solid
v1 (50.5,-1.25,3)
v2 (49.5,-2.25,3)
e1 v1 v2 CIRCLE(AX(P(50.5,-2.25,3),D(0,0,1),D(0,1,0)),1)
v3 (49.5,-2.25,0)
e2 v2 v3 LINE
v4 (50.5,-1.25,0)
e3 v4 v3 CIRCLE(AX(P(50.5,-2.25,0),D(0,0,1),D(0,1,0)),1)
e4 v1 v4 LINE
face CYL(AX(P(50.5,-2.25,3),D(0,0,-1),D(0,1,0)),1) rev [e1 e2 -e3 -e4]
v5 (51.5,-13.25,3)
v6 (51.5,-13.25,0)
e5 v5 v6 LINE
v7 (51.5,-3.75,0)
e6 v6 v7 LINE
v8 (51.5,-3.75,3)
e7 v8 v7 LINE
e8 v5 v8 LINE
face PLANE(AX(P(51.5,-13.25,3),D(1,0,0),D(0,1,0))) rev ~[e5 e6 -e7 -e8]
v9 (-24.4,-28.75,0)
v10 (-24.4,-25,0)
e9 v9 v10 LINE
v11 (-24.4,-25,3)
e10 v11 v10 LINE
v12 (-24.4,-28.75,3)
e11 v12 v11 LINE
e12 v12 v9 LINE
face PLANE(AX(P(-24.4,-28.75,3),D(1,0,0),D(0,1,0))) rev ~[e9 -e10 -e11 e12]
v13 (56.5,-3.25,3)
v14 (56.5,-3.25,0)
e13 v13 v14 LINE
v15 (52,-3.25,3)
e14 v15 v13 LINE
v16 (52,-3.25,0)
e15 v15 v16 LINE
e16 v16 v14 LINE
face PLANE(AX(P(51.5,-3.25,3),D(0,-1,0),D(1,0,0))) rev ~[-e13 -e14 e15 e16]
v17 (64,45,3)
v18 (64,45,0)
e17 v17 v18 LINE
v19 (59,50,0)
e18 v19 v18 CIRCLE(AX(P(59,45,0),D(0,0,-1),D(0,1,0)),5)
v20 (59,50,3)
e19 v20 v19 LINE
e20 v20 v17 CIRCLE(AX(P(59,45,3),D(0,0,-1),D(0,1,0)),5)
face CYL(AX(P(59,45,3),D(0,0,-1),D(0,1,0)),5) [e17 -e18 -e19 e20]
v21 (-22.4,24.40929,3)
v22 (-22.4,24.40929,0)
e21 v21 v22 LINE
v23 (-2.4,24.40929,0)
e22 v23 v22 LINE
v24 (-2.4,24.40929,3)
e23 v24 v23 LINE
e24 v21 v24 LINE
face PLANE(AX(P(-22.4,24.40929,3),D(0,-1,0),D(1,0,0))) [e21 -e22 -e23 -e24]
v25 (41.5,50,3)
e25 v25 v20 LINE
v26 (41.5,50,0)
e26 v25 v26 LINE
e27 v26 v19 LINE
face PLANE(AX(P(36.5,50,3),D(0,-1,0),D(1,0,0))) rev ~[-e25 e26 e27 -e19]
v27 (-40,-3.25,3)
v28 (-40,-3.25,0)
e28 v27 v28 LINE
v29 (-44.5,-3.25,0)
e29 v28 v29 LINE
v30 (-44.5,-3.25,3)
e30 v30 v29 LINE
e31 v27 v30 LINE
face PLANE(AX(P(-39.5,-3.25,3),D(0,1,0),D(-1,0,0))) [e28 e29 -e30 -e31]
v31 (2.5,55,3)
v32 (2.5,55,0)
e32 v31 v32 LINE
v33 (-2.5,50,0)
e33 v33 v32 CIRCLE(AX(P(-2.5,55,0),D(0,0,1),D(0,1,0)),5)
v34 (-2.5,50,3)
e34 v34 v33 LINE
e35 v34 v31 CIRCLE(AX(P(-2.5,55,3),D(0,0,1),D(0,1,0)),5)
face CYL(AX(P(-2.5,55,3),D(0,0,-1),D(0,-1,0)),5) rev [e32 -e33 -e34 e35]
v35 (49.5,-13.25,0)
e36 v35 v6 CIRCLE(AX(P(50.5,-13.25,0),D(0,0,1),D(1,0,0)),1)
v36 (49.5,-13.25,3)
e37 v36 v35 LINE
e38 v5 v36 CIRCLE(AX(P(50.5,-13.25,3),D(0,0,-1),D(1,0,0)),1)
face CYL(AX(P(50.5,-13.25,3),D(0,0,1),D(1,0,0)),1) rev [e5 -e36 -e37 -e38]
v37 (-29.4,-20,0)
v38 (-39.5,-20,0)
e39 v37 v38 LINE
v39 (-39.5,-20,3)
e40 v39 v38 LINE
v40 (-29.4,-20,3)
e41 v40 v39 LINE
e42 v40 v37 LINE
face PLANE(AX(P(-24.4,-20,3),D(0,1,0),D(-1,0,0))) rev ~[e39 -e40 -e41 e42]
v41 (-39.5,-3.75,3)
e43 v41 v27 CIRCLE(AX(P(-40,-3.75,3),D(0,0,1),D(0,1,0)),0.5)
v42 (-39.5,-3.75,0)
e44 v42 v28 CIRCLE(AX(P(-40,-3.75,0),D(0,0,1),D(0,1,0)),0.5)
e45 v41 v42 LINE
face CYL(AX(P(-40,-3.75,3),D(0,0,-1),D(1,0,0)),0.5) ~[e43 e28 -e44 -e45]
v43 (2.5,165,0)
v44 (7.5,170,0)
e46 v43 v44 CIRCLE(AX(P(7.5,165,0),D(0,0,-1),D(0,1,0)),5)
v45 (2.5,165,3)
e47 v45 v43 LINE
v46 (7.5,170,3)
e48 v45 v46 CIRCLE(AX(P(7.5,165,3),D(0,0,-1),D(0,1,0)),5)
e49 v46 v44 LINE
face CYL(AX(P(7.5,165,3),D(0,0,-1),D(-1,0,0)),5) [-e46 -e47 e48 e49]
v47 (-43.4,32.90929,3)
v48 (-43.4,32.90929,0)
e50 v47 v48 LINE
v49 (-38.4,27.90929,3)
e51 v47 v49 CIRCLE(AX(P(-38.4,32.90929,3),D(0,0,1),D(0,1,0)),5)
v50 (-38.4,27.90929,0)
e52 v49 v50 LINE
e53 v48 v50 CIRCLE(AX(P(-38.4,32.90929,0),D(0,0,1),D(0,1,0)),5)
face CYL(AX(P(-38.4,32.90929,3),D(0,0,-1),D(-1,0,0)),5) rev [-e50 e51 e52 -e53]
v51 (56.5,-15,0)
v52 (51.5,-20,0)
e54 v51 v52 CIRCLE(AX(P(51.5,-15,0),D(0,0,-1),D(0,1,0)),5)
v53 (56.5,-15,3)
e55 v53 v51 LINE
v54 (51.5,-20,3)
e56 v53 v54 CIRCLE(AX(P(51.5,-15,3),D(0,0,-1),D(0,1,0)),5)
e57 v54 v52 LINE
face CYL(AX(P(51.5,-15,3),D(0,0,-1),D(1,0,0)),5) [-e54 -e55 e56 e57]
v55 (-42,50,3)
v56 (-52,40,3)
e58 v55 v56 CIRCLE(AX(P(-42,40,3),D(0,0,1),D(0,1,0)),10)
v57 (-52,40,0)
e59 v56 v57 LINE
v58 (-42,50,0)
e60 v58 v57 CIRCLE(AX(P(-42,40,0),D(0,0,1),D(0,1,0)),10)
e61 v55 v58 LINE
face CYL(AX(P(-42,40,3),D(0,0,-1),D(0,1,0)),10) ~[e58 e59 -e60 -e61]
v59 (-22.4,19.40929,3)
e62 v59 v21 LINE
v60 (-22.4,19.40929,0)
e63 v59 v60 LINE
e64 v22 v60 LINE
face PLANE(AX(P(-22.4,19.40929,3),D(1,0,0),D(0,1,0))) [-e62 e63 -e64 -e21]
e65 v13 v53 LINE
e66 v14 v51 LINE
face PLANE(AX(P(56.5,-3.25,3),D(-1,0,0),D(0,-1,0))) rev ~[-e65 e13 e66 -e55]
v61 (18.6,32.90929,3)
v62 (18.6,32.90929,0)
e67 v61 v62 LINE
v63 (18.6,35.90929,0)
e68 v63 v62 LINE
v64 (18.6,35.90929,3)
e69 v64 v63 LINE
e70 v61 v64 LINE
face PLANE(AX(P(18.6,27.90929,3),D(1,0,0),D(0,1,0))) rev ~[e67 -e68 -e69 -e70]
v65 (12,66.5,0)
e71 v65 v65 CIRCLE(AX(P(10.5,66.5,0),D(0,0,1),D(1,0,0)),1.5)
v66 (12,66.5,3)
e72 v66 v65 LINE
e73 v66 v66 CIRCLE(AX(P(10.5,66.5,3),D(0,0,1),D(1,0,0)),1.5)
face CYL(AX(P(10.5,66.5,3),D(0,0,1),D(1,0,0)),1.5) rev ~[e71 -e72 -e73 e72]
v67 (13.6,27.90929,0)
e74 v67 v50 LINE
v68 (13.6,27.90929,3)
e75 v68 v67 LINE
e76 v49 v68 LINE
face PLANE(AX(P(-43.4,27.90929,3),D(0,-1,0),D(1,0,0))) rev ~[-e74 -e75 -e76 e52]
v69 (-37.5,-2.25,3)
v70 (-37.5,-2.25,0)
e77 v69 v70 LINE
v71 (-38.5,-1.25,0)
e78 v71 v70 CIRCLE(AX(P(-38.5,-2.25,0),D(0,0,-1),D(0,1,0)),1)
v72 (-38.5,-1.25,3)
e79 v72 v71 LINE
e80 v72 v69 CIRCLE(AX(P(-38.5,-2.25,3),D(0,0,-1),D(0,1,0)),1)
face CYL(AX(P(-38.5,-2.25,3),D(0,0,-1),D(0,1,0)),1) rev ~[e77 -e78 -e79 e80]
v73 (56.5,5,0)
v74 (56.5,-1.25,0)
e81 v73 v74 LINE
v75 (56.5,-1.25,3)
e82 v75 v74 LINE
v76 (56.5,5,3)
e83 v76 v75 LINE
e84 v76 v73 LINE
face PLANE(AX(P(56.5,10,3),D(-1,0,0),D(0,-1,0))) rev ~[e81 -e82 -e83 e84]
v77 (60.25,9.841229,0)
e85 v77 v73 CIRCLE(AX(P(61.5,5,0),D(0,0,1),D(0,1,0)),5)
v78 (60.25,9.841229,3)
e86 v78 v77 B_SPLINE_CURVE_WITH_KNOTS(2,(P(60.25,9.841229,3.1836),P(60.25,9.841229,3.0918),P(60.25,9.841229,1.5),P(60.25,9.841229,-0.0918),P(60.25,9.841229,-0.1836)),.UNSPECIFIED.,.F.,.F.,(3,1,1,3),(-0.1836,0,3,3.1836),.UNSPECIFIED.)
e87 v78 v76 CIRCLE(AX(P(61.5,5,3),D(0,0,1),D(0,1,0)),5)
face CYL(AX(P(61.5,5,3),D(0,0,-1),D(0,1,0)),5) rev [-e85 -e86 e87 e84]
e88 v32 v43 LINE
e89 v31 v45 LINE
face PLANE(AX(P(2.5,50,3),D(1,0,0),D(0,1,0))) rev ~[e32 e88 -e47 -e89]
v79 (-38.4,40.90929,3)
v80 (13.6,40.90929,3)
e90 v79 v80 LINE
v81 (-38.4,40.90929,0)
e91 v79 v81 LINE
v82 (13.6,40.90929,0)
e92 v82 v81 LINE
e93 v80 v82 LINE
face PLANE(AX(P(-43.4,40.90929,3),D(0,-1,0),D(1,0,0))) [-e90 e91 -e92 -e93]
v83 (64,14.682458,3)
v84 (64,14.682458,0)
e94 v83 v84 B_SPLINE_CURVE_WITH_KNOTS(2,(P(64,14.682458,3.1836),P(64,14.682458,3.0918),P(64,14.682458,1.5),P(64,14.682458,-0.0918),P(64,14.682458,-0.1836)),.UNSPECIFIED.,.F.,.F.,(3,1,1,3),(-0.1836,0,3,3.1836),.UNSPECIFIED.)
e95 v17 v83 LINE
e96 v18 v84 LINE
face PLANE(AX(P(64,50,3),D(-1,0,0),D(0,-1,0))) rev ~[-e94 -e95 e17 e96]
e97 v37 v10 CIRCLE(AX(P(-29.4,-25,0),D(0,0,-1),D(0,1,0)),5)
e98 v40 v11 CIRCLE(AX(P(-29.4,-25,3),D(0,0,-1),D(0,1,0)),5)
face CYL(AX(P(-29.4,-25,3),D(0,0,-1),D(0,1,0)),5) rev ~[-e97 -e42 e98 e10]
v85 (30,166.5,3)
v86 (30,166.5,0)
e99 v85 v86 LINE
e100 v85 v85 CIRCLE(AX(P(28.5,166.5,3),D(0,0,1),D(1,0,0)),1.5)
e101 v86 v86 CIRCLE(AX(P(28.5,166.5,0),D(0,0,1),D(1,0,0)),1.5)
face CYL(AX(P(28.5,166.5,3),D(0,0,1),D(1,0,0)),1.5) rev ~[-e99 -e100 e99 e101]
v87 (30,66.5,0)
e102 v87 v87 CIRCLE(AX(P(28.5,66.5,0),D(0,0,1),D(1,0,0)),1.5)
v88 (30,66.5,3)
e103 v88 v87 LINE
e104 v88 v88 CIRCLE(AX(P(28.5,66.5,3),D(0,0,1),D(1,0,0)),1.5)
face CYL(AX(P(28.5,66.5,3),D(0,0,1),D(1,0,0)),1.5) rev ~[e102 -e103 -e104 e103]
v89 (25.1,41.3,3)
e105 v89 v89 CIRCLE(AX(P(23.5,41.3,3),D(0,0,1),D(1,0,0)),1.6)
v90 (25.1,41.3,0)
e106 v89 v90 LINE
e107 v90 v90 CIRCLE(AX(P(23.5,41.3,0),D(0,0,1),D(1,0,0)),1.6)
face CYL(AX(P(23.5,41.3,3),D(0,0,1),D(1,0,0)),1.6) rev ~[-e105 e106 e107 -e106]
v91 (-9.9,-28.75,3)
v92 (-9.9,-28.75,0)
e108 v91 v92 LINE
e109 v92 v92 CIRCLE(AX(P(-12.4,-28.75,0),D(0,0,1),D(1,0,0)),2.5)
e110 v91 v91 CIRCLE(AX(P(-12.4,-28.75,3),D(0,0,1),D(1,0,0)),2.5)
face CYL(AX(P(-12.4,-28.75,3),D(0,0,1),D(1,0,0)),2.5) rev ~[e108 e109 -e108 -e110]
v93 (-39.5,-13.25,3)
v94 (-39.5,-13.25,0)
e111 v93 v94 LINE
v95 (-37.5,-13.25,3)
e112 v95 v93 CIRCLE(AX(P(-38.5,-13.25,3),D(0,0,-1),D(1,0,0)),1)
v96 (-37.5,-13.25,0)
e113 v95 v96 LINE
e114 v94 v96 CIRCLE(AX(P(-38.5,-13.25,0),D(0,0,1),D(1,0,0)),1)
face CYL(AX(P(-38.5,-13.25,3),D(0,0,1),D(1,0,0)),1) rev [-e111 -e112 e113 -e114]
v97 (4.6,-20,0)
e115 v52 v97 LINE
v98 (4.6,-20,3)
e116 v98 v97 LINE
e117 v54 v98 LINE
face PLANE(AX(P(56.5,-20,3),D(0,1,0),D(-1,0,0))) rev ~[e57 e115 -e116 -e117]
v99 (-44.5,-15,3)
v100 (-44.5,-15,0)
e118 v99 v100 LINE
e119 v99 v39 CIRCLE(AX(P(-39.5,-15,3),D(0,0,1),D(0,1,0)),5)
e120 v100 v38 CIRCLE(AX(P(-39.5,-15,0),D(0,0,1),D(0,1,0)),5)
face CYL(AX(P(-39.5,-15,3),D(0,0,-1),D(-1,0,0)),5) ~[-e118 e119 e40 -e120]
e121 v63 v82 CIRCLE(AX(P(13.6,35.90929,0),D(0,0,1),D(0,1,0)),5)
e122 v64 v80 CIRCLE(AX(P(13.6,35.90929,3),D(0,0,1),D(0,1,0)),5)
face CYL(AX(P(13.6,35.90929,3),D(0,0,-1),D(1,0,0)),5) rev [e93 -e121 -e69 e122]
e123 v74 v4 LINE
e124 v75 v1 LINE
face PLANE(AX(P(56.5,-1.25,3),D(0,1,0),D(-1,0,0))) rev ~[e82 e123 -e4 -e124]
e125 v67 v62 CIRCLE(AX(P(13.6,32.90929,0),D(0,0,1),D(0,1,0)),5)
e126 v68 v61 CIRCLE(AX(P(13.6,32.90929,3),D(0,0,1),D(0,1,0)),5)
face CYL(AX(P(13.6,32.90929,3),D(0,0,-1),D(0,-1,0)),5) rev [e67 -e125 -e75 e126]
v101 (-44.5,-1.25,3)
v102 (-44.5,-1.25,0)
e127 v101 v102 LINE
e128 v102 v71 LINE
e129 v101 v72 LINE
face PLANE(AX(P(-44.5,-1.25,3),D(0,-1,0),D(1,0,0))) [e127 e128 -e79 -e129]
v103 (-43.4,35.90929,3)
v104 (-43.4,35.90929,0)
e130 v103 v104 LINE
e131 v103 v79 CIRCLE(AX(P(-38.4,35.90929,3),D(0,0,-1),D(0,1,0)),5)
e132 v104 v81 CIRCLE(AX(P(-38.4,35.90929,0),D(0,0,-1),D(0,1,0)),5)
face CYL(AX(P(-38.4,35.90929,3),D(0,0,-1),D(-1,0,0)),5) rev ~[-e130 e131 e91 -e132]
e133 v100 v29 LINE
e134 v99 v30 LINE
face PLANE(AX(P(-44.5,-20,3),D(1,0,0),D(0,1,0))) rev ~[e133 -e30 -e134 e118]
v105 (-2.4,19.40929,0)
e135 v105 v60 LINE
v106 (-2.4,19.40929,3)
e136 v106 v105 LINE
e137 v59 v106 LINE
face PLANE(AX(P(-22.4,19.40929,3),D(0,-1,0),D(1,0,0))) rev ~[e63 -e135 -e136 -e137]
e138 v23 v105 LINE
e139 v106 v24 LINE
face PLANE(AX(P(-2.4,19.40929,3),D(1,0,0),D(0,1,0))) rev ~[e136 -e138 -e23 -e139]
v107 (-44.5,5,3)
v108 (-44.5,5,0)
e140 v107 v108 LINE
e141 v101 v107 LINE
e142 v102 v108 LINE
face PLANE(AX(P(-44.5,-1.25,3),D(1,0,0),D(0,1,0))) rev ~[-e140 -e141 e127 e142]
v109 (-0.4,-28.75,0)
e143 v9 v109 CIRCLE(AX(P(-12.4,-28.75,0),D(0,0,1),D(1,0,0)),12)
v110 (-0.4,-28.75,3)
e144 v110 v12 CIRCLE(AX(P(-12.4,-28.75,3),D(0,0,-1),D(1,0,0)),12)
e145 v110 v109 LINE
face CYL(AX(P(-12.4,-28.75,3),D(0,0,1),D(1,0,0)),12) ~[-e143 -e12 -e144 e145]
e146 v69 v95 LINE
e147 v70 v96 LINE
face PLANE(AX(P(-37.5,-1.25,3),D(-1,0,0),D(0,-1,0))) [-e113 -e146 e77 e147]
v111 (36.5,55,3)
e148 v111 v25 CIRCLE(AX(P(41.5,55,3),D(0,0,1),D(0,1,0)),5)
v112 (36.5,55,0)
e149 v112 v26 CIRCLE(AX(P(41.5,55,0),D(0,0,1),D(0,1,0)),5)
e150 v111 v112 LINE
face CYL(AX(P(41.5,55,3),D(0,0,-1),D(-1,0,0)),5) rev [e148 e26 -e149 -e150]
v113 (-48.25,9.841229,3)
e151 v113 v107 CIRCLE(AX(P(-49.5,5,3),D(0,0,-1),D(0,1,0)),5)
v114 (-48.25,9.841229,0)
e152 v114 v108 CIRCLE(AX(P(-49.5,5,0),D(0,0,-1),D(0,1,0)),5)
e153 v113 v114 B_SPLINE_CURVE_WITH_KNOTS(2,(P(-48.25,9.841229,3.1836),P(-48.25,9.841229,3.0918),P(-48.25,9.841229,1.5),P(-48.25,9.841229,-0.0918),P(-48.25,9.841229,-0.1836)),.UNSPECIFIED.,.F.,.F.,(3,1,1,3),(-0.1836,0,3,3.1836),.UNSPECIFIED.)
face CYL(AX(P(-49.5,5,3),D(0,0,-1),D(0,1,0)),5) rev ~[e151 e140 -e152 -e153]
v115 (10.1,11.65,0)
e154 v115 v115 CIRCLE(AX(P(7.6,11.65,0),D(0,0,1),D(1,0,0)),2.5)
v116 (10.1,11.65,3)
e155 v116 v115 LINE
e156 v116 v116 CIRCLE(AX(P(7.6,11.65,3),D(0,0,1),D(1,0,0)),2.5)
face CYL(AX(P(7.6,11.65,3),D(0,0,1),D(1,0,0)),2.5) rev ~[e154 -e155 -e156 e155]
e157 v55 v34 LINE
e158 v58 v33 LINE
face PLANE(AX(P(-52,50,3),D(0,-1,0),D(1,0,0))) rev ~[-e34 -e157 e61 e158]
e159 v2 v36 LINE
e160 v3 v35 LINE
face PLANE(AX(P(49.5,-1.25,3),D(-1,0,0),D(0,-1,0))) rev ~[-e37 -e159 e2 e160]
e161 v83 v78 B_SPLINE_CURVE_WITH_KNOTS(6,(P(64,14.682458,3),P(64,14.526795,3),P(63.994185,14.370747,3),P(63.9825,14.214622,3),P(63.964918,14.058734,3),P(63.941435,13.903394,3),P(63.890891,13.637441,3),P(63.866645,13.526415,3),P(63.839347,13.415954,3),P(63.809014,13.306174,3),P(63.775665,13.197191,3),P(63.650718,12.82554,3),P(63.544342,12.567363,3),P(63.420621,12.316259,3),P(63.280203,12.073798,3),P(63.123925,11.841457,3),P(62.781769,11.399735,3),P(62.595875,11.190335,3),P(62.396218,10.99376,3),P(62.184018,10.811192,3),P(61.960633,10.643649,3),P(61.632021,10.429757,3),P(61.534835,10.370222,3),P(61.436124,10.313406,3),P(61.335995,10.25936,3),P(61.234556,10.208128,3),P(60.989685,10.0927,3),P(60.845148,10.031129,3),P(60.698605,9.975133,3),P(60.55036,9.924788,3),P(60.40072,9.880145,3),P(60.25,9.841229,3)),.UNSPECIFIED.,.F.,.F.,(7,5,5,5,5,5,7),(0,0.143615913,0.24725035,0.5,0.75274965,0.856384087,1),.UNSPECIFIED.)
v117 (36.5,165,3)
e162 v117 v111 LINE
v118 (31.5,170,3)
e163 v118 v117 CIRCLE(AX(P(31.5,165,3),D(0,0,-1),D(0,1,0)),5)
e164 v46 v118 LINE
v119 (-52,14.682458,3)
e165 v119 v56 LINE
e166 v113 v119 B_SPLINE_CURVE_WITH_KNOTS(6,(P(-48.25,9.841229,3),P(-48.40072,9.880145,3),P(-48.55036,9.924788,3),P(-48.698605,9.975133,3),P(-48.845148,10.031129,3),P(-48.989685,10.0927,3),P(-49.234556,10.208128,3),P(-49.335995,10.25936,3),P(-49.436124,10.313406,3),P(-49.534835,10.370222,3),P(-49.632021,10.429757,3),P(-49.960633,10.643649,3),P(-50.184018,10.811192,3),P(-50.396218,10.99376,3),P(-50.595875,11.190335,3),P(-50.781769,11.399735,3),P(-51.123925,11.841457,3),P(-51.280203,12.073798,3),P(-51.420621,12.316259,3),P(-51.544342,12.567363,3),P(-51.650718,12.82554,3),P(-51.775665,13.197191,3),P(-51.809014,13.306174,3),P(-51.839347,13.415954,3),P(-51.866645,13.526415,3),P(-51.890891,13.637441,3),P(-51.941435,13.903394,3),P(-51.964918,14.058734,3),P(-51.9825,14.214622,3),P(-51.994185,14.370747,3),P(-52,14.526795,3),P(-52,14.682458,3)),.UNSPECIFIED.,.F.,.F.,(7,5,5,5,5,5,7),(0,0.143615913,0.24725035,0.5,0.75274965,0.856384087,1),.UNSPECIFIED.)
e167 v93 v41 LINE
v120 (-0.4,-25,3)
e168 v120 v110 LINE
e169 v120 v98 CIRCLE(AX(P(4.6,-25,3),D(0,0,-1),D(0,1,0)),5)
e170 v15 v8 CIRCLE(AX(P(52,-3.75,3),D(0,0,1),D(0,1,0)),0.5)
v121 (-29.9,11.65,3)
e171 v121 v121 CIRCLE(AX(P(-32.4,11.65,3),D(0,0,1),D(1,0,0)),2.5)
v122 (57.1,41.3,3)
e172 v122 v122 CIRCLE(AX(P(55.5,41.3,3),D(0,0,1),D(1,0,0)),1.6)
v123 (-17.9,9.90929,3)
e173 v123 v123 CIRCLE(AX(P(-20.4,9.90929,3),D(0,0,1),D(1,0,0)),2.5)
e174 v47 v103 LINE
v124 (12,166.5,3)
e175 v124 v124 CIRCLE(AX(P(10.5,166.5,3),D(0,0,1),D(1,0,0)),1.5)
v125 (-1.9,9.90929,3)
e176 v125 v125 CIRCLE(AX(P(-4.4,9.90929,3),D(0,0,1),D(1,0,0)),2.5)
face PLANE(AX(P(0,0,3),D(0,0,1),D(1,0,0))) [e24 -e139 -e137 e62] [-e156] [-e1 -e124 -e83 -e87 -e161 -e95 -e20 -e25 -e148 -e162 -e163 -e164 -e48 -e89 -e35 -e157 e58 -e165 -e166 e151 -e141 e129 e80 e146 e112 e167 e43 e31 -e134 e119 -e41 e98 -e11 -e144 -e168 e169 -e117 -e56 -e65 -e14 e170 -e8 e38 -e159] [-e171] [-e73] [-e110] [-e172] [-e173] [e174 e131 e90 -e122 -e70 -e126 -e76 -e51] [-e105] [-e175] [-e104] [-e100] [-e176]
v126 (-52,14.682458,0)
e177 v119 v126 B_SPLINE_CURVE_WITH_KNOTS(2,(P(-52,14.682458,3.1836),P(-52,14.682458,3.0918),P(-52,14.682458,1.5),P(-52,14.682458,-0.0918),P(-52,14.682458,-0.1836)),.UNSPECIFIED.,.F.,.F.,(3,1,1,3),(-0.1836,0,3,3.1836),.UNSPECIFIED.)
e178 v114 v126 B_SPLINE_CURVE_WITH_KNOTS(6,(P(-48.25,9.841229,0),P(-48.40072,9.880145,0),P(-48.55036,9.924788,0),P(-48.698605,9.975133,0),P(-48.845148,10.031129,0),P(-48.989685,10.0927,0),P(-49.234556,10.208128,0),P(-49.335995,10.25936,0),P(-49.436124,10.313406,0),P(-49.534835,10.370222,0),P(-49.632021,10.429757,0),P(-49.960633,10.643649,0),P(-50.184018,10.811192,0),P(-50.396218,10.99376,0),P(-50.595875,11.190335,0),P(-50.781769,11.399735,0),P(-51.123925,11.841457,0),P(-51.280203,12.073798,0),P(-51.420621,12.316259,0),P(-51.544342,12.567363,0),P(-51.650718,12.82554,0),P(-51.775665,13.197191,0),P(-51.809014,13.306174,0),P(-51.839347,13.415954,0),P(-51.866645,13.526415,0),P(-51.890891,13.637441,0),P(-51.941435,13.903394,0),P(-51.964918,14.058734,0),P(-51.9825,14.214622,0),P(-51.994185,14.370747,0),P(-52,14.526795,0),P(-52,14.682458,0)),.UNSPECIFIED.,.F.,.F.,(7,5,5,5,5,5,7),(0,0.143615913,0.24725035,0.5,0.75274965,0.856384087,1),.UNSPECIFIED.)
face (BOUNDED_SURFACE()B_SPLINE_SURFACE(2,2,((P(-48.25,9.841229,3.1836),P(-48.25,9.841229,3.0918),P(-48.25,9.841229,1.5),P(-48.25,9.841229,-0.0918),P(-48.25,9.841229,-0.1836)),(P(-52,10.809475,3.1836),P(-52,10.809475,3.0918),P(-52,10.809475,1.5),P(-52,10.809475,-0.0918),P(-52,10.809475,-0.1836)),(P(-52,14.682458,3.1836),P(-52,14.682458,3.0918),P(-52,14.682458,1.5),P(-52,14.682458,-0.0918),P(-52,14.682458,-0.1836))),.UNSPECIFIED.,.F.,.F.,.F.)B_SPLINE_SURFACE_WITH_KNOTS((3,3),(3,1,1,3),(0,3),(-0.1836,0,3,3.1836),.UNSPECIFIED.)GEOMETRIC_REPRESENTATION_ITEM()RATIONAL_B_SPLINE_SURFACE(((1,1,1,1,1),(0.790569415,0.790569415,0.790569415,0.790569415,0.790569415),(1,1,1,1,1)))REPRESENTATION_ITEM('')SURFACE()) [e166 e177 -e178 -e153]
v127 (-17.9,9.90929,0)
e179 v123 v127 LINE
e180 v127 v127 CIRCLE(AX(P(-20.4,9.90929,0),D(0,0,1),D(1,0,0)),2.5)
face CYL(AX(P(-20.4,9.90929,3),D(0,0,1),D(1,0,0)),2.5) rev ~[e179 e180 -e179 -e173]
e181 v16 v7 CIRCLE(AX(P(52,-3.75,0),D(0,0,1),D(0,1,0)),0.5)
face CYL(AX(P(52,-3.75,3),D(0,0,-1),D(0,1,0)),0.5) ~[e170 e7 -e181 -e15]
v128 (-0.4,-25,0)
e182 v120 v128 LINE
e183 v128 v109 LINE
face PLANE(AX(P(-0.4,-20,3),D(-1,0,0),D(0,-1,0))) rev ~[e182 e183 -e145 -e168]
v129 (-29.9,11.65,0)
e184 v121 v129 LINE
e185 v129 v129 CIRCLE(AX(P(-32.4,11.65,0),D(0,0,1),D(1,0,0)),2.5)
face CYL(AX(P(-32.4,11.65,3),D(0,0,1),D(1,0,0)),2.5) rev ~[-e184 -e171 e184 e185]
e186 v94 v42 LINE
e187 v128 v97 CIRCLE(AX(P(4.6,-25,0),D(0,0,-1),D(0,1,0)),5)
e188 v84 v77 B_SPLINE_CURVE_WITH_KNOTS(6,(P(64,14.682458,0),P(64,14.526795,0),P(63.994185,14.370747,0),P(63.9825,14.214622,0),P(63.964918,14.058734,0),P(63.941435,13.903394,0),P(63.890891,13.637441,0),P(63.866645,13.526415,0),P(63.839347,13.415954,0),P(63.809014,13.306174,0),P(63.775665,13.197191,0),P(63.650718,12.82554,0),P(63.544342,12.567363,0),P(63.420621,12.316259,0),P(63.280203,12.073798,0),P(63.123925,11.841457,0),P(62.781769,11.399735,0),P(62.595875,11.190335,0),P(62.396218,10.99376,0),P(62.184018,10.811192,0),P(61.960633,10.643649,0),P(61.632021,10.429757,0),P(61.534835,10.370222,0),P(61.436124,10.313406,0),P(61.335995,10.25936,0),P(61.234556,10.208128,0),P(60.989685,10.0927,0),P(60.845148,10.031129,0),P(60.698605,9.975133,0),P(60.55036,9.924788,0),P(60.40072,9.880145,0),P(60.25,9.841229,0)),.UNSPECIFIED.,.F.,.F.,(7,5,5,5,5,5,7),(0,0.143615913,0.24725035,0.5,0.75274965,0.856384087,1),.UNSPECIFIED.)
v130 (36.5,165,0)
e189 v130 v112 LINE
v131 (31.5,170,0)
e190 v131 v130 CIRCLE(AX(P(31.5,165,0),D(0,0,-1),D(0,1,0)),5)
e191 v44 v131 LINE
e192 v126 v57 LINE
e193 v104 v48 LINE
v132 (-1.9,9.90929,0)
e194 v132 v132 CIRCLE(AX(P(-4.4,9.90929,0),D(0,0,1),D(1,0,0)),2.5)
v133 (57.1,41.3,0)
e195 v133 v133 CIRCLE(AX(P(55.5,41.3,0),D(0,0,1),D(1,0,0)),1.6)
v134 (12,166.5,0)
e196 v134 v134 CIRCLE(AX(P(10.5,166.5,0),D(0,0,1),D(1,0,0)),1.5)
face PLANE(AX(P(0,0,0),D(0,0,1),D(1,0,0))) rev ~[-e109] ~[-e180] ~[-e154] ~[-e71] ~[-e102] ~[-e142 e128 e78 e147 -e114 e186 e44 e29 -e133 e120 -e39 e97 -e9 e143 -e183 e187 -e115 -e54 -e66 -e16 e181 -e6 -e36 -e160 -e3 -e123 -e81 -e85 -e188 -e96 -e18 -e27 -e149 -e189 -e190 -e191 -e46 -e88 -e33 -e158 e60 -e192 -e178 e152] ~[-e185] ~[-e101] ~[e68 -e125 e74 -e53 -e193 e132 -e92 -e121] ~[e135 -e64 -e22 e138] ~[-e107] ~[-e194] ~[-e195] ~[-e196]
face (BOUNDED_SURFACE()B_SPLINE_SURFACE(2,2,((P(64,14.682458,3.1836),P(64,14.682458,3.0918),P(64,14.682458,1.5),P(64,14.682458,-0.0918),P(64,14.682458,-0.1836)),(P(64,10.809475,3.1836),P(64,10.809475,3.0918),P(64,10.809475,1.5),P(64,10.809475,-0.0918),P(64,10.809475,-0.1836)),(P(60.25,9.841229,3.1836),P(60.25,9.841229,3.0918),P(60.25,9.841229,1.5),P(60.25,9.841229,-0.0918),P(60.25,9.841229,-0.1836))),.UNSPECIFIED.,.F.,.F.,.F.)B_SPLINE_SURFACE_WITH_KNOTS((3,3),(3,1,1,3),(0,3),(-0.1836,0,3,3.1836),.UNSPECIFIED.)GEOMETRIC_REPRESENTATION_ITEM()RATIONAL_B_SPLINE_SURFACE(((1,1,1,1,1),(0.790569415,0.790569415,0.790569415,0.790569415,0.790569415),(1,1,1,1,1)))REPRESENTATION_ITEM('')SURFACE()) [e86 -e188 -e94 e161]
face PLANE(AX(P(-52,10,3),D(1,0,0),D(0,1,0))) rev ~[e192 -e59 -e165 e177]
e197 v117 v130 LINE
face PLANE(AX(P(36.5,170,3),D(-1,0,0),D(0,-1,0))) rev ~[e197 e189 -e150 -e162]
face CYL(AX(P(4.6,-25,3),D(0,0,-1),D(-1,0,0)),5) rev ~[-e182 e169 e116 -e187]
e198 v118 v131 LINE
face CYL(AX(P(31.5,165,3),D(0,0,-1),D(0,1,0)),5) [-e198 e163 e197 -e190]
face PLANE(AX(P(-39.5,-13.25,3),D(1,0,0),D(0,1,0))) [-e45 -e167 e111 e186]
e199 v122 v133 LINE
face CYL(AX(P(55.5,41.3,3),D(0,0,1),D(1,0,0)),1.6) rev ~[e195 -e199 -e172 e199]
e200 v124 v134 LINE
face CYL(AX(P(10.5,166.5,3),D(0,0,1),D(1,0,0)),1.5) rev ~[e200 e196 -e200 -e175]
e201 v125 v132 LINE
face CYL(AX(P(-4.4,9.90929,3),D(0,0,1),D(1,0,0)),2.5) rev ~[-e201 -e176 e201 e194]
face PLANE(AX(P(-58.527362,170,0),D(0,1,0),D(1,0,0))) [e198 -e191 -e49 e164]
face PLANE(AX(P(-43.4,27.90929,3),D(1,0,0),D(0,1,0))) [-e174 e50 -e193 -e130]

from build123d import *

# Parameters (mm, degrees)
SKETCH1_W           = 200
SKETCH1_H           = 300
SKETCH1_W_2         = 158.527362204
SKETCH1_H_2         = 20
BOSS_EXTRUDE1_DEPTH = 3
SKETCH2_R           = 2.5
CUT_EXTRUDE1_DEPTH  = 5
CUT_EXTRUDE3_DEPTH  = 10
CUT_EXTRUDE4_REACH  = 183.673
SKETCH5_W           = 62
SKETCH5_H           = 13
FILLET2_R           = 5
FILLET3_R           = 10
FILLET4_R           = 5
CUT_EXTRUDE6_REACH  = 183.673
SKETCH7_R           = 1.6
CUT_EXTRUDE7_REACH  = 183.673
SKETCH8_R           = 2.5
SKETCH8_W           = 20
SKETCH8_H           = 5
FILLET6_R           = 1
FILLET7_R           = 0.5
SKETCH9_R           = 1.5
CUT_EXTRUDE8_DEPTH  = 10
FILLET8_R           = 5


with BuildPart() as part:
    # Sketch1 → Boss-Extrude1 (new body)
    with BuildSketch(Plane.XY):
        Rectangle(SKETCH1_W, SKETCH1_H)
        with Locations((20.736318898, 160)):
            Rectangle(SKETCH1_W_2, SKETCH1_H_2)
    extrude(amount=BOSS_EXTRUDE1_DEPTH)

    # Sketch2 → Cut-Extrude1 (cut)
    with BuildSketch(Plane.XY.offset(3)):
        with Locations((-12.4, -28.75)):
            Circle(SKETCH2_R)
        with Locations((7.6, 11.65)):
            Circle(SKETCH2_R)
        with Locations((-32.4, 11.65)):
            Circle(SKETCH2_R)
        Polygon((-44.5, -3.25), (-44.5, -1.25), (-37.5, -1.25), (-37.5, -13.25), (-39.5, -13.25), (-39.5, -3.25), align=None)
        Polygon((51.5, -3.25), (56.5, -3.25), (56.5, -1.25), (49.5, -1.25), (49.5, -13.25), (51.5, -13.25), align=None)
        with BuildLine():
            Line((-44.5, -3.25), (-44.5, -1.25))
            ThreePointArc((-44.5, -1.25), (-45.5, -2.25), (-44.5, -3.25))
        make_face()
        with BuildLine():
            ThreePointArc((-37.5, -13.25), (-38.5, -14.25), (-39.5, -13.25))
            Line((-39.5, -13.25), (-37.5, -13.25))
        make_face()
        with BuildLine():
            ThreePointArc((51.5, -13.25), (50.5, -14.25), (49.5, -13.25))
            Line((49.5, -13.25), (51.5, -13.25))
        make_face()
        with BuildLine():
            ThreePointArc((56.5, -1.25), (57.5, -2.25), (56.5, -3.25))
            Line((56.5, -3.25), (56.5, -1.25))
        make_face()
    extrude(amount=-CUT_EXTRUDE1_DEPTH, mode=Mode.SUBTRACT)

    # Sketch4 → Cut-Extrude3 (cut)
    with BuildSketch(Plane.XY.offset(3)):
        with BuildLine():
            ThreePointArc((-44.5, -3.25), (-45.5, -2.25), (-44.5, -1.25))
            Line((-44.5, -1.25), (-44.5, 10))
            Line((-44.5, 10), (-52, 10))
            Line((-52, 10), (-52, 50))
            Line((-52, 50), (2.5, 50))
            Line((2.5, 50), (2.5, 170))
            Line((2.5, 170), (-58.527362204, 170))
            Line((-58.527362204, 170), (-58.527362204, 150))
            Line((-58.527362204, 150), (-100, 150))
            Line((-100, 150), (-100, -150))
            Line((-100, -150), (100, -150))
            Line((100, -150), (100, 170))
            Line((100, 170), (36.5, 170))
            Line((36.5, 170), (36.5, 50))
            Line((36.5, 50), (64, 50))
            Line((64, 50), (64, 10))
            Line((64, 10), (56.5, 10))
            Line((56.5, 10), (56.5, -1.25))
            ThreePointArc((56.5, -1.25), (57.5, -2.25), (56.5, -3.25))
            Line((56.5, -3.25), (56.5, -20))
            Line((56.5, -20), (-0.4, -20))
            Line((-0.4, -20), (-0.4, -28.75))
            ThreePointArc((-0.4, -28.75), (-12.4, -40.75), (-24.4, -28.75))
            Line((-24.4, -28.75), (-24.4, -20))
            Line((-24.4, -20), (-44.5, -20))
            Line((-44.5, -20), (-44.5, -3.25))
        make_face()
    extrude(amount=-CUT_EXTRUDE3_DEPTH, mode=Mode.SUBTRACT)

    # Sketch5 → Cut-Extrude4 (cut, up to next)
    with BuildSketch(Plane.XY.offset(3), mode=Mode.PRIVATE) as cut_extrude4_sk1:
        with Locations((-12.4, 34.409289568)):
            Rectangle(SKETCH5_W, SKETCH5_H)
    cut_extrude4_tool1 = extrude(cut_extrude4_sk1.sketch, amount=-CUT_EXTRUDE4_REACH, mode=Mode.PRIVATE) & part.part
    add(cut_extrude4_tool1.solids().sort_by_distance((-12.4, 34.40929, 3))[0], mode=Mode.SUBTRACT)

    # Fillet2
    fillet2_edges = [part.edges().sort_by_distance(p)[0] for p in [
        (-43.4, 40.909289568, 1.5),
        (18.6, 40.909289568, 1.5),
        (18.6, 27.909289568, 1.5),
        (-43.4, 27.909289568, 1.5),
    ]]
    fillet(fillet2_edges, radius=FILLET2_R)

    # Fillet3
    fillet3_edges = [part.edges().sort_by_distance(p)[0] for p in [
        (-52, 50, 1.5),
    ]]
    fillet(fillet3_edges, radius=FILLET3_R)

    # Fillet4
    fillet4_edges = [part.edges().sort_by_distance(p)[0] for p in [
        (-44.5, -20, 1.5),
        (-24.4, -20, 1.5),
        (-0.4, -20, 1.5),
        (56.5, 10, 1.5),
        (64, 50, 1.5),
        (2.5, 50, 1.5),
        (36.5, 50, 1.5),
        (56.5, -20, 1.5),
        (-44.5, 10, 1.5),
    ]]
    fillet(fillet4_edges, radius=FILLET4_R)

    # Sketch7 → Cut-Extrude6 (cut, up to next)
    with BuildSketch(Plane.XY.offset(3), mode=Mode.PRIVATE) as cut_extrude6_sk1:
        with Locations((55.5, 41.3)):
            Circle(SKETCH7_R)
    cut_extrude6_tool1 = extrude(cut_extrude6_sk1.sketch, amount=-CUT_EXTRUDE6_REACH, mode=Mode.PRIVATE) & part.part
    # Sketch7 → Cut-Extrude6 (cut, up to next)
    with BuildSketch(Plane.XY.offset(3), mode=Mode.PRIVATE) as cut_extrude6_sk2:
        with Locations((23.5, 41.3)):
            Circle(SKETCH7_R)
    cut_extrude6_tool2 = extrude(cut_extrude6_sk2.sketch, amount=-CUT_EXTRUDE6_REACH, mode=Mode.PRIVATE) & part.part
    add(cut_extrude6_tool1.solids().sort_by_distance((55.5, 41.3, 3))[0], mode=Mode.SUBTRACT)
    add(cut_extrude6_tool2.solids().sort_by_distance((23.5, 41.3, 3))[0], mode=Mode.SUBTRACT)

    # Sketch8 → Cut-Extrude7 (cut, up to next)
    with BuildSketch(Plane.XY.offset(3), mode=Mode.PRIVATE) as cut_extrude7_sk1:
        with Locations((-4.4, 9.909289568)):
            Circle(SKETCH8_R)
    cut_extrude7_tool1 = extrude(cut_extrude7_sk1.sketch, amount=-CUT_EXTRUDE7_REACH, mode=Mode.PRIVATE) & part.part
    # Sketch8 → Cut-Extrude7 (cut, up to next)
    with BuildSketch(Plane.XY.offset(3), mode=Mode.PRIVATE) as cut_extrude7_sk2:
        with Locations((-20.4, 9.909289568)):
            Circle(SKETCH8_R)
    cut_extrude7_tool2 = extrude(cut_extrude7_sk2.sketch, amount=-CUT_EXTRUDE7_REACH, mode=Mode.PRIVATE) & part.part
    # Sketch8 → Cut-Extrude7 (cut, up to next)
    with BuildSketch(Plane.XY.offset(3), mode=Mode.PRIVATE) as cut_extrude7_sk3:
        with Locations((-12.4, 21.909289568)):
            Rectangle(SKETCH8_W, SKETCH8_H)
    cut_extrude7_tool3 = extrude(cut_extrude7_sk3.sketch, amount=-CUT_EXTRUDE7_REACH, mode=Mode.PRIVATE) & part.part
    add(cut_extrude7_tool1.solids().sort_by_distance((-4.4, 9.90929, 3))[0], mode=Mode.SUBTRACT)
    add(cut_extrude7_tool2.solids().sort_by_distance((-20.4, 9.90929, 3))[0], mode=Mode.SUBTRACT)
    add(cut_extrude7_tool3.solids().sort_by_distance((-12.4, 21.90929, 3))[0], mode=Mode.SUBTRACT)

    # Fillet6
    fillet6_edges = [part.edges().sort_by_distance(p)[0] for p in [
        (-37.5, -1.25, 1.5),
        (49.5, -1.25, 1.5),
    ]]
    fillet(fillet6_edges, radius=FILLET6_R)

    # Fillet7
    fillet7_edges = [part.edges().sort_by_distance(p)[0] for p in [
        (-39.5, -3.25, 1.5),
        (51.5, -3.25, 1.5),
    ]]
    fillet(fillet7_edges, radius=FILLET7_R)

    # Sketch9 → Cut-Extrude8 (cut)
    with BuildSketch(Plane.XY.offset(3)):
        with Locations((10.5, 166.5)):
            Circle(SKETCH9_R)
        with Locations((10.5, 66.5)):
            Circle(SKETCH9_R)
        with Locations((28.5, 166.5)):
            Circle(SKETCH9_R)
        with Locations((28.5, 66.5)):
            Circle(SKETCH9_R)
    extrude(amount=-CUT_EXTRUDE8_DEPTH, mode=Mode.SUBTRACT)

    # Fillet8
    fillet8_edges = [part.edges().sort_by_distance(p)[0] for p in [
        (2.5, 170, 1.5),
        (36.5, 170, 1.5),
        (-52, 10, 1.5),
        (64, 10, 1.5),
    ]]
    fillet(fillet8_edges, radius=FILLET8_R)


solid = part.part
